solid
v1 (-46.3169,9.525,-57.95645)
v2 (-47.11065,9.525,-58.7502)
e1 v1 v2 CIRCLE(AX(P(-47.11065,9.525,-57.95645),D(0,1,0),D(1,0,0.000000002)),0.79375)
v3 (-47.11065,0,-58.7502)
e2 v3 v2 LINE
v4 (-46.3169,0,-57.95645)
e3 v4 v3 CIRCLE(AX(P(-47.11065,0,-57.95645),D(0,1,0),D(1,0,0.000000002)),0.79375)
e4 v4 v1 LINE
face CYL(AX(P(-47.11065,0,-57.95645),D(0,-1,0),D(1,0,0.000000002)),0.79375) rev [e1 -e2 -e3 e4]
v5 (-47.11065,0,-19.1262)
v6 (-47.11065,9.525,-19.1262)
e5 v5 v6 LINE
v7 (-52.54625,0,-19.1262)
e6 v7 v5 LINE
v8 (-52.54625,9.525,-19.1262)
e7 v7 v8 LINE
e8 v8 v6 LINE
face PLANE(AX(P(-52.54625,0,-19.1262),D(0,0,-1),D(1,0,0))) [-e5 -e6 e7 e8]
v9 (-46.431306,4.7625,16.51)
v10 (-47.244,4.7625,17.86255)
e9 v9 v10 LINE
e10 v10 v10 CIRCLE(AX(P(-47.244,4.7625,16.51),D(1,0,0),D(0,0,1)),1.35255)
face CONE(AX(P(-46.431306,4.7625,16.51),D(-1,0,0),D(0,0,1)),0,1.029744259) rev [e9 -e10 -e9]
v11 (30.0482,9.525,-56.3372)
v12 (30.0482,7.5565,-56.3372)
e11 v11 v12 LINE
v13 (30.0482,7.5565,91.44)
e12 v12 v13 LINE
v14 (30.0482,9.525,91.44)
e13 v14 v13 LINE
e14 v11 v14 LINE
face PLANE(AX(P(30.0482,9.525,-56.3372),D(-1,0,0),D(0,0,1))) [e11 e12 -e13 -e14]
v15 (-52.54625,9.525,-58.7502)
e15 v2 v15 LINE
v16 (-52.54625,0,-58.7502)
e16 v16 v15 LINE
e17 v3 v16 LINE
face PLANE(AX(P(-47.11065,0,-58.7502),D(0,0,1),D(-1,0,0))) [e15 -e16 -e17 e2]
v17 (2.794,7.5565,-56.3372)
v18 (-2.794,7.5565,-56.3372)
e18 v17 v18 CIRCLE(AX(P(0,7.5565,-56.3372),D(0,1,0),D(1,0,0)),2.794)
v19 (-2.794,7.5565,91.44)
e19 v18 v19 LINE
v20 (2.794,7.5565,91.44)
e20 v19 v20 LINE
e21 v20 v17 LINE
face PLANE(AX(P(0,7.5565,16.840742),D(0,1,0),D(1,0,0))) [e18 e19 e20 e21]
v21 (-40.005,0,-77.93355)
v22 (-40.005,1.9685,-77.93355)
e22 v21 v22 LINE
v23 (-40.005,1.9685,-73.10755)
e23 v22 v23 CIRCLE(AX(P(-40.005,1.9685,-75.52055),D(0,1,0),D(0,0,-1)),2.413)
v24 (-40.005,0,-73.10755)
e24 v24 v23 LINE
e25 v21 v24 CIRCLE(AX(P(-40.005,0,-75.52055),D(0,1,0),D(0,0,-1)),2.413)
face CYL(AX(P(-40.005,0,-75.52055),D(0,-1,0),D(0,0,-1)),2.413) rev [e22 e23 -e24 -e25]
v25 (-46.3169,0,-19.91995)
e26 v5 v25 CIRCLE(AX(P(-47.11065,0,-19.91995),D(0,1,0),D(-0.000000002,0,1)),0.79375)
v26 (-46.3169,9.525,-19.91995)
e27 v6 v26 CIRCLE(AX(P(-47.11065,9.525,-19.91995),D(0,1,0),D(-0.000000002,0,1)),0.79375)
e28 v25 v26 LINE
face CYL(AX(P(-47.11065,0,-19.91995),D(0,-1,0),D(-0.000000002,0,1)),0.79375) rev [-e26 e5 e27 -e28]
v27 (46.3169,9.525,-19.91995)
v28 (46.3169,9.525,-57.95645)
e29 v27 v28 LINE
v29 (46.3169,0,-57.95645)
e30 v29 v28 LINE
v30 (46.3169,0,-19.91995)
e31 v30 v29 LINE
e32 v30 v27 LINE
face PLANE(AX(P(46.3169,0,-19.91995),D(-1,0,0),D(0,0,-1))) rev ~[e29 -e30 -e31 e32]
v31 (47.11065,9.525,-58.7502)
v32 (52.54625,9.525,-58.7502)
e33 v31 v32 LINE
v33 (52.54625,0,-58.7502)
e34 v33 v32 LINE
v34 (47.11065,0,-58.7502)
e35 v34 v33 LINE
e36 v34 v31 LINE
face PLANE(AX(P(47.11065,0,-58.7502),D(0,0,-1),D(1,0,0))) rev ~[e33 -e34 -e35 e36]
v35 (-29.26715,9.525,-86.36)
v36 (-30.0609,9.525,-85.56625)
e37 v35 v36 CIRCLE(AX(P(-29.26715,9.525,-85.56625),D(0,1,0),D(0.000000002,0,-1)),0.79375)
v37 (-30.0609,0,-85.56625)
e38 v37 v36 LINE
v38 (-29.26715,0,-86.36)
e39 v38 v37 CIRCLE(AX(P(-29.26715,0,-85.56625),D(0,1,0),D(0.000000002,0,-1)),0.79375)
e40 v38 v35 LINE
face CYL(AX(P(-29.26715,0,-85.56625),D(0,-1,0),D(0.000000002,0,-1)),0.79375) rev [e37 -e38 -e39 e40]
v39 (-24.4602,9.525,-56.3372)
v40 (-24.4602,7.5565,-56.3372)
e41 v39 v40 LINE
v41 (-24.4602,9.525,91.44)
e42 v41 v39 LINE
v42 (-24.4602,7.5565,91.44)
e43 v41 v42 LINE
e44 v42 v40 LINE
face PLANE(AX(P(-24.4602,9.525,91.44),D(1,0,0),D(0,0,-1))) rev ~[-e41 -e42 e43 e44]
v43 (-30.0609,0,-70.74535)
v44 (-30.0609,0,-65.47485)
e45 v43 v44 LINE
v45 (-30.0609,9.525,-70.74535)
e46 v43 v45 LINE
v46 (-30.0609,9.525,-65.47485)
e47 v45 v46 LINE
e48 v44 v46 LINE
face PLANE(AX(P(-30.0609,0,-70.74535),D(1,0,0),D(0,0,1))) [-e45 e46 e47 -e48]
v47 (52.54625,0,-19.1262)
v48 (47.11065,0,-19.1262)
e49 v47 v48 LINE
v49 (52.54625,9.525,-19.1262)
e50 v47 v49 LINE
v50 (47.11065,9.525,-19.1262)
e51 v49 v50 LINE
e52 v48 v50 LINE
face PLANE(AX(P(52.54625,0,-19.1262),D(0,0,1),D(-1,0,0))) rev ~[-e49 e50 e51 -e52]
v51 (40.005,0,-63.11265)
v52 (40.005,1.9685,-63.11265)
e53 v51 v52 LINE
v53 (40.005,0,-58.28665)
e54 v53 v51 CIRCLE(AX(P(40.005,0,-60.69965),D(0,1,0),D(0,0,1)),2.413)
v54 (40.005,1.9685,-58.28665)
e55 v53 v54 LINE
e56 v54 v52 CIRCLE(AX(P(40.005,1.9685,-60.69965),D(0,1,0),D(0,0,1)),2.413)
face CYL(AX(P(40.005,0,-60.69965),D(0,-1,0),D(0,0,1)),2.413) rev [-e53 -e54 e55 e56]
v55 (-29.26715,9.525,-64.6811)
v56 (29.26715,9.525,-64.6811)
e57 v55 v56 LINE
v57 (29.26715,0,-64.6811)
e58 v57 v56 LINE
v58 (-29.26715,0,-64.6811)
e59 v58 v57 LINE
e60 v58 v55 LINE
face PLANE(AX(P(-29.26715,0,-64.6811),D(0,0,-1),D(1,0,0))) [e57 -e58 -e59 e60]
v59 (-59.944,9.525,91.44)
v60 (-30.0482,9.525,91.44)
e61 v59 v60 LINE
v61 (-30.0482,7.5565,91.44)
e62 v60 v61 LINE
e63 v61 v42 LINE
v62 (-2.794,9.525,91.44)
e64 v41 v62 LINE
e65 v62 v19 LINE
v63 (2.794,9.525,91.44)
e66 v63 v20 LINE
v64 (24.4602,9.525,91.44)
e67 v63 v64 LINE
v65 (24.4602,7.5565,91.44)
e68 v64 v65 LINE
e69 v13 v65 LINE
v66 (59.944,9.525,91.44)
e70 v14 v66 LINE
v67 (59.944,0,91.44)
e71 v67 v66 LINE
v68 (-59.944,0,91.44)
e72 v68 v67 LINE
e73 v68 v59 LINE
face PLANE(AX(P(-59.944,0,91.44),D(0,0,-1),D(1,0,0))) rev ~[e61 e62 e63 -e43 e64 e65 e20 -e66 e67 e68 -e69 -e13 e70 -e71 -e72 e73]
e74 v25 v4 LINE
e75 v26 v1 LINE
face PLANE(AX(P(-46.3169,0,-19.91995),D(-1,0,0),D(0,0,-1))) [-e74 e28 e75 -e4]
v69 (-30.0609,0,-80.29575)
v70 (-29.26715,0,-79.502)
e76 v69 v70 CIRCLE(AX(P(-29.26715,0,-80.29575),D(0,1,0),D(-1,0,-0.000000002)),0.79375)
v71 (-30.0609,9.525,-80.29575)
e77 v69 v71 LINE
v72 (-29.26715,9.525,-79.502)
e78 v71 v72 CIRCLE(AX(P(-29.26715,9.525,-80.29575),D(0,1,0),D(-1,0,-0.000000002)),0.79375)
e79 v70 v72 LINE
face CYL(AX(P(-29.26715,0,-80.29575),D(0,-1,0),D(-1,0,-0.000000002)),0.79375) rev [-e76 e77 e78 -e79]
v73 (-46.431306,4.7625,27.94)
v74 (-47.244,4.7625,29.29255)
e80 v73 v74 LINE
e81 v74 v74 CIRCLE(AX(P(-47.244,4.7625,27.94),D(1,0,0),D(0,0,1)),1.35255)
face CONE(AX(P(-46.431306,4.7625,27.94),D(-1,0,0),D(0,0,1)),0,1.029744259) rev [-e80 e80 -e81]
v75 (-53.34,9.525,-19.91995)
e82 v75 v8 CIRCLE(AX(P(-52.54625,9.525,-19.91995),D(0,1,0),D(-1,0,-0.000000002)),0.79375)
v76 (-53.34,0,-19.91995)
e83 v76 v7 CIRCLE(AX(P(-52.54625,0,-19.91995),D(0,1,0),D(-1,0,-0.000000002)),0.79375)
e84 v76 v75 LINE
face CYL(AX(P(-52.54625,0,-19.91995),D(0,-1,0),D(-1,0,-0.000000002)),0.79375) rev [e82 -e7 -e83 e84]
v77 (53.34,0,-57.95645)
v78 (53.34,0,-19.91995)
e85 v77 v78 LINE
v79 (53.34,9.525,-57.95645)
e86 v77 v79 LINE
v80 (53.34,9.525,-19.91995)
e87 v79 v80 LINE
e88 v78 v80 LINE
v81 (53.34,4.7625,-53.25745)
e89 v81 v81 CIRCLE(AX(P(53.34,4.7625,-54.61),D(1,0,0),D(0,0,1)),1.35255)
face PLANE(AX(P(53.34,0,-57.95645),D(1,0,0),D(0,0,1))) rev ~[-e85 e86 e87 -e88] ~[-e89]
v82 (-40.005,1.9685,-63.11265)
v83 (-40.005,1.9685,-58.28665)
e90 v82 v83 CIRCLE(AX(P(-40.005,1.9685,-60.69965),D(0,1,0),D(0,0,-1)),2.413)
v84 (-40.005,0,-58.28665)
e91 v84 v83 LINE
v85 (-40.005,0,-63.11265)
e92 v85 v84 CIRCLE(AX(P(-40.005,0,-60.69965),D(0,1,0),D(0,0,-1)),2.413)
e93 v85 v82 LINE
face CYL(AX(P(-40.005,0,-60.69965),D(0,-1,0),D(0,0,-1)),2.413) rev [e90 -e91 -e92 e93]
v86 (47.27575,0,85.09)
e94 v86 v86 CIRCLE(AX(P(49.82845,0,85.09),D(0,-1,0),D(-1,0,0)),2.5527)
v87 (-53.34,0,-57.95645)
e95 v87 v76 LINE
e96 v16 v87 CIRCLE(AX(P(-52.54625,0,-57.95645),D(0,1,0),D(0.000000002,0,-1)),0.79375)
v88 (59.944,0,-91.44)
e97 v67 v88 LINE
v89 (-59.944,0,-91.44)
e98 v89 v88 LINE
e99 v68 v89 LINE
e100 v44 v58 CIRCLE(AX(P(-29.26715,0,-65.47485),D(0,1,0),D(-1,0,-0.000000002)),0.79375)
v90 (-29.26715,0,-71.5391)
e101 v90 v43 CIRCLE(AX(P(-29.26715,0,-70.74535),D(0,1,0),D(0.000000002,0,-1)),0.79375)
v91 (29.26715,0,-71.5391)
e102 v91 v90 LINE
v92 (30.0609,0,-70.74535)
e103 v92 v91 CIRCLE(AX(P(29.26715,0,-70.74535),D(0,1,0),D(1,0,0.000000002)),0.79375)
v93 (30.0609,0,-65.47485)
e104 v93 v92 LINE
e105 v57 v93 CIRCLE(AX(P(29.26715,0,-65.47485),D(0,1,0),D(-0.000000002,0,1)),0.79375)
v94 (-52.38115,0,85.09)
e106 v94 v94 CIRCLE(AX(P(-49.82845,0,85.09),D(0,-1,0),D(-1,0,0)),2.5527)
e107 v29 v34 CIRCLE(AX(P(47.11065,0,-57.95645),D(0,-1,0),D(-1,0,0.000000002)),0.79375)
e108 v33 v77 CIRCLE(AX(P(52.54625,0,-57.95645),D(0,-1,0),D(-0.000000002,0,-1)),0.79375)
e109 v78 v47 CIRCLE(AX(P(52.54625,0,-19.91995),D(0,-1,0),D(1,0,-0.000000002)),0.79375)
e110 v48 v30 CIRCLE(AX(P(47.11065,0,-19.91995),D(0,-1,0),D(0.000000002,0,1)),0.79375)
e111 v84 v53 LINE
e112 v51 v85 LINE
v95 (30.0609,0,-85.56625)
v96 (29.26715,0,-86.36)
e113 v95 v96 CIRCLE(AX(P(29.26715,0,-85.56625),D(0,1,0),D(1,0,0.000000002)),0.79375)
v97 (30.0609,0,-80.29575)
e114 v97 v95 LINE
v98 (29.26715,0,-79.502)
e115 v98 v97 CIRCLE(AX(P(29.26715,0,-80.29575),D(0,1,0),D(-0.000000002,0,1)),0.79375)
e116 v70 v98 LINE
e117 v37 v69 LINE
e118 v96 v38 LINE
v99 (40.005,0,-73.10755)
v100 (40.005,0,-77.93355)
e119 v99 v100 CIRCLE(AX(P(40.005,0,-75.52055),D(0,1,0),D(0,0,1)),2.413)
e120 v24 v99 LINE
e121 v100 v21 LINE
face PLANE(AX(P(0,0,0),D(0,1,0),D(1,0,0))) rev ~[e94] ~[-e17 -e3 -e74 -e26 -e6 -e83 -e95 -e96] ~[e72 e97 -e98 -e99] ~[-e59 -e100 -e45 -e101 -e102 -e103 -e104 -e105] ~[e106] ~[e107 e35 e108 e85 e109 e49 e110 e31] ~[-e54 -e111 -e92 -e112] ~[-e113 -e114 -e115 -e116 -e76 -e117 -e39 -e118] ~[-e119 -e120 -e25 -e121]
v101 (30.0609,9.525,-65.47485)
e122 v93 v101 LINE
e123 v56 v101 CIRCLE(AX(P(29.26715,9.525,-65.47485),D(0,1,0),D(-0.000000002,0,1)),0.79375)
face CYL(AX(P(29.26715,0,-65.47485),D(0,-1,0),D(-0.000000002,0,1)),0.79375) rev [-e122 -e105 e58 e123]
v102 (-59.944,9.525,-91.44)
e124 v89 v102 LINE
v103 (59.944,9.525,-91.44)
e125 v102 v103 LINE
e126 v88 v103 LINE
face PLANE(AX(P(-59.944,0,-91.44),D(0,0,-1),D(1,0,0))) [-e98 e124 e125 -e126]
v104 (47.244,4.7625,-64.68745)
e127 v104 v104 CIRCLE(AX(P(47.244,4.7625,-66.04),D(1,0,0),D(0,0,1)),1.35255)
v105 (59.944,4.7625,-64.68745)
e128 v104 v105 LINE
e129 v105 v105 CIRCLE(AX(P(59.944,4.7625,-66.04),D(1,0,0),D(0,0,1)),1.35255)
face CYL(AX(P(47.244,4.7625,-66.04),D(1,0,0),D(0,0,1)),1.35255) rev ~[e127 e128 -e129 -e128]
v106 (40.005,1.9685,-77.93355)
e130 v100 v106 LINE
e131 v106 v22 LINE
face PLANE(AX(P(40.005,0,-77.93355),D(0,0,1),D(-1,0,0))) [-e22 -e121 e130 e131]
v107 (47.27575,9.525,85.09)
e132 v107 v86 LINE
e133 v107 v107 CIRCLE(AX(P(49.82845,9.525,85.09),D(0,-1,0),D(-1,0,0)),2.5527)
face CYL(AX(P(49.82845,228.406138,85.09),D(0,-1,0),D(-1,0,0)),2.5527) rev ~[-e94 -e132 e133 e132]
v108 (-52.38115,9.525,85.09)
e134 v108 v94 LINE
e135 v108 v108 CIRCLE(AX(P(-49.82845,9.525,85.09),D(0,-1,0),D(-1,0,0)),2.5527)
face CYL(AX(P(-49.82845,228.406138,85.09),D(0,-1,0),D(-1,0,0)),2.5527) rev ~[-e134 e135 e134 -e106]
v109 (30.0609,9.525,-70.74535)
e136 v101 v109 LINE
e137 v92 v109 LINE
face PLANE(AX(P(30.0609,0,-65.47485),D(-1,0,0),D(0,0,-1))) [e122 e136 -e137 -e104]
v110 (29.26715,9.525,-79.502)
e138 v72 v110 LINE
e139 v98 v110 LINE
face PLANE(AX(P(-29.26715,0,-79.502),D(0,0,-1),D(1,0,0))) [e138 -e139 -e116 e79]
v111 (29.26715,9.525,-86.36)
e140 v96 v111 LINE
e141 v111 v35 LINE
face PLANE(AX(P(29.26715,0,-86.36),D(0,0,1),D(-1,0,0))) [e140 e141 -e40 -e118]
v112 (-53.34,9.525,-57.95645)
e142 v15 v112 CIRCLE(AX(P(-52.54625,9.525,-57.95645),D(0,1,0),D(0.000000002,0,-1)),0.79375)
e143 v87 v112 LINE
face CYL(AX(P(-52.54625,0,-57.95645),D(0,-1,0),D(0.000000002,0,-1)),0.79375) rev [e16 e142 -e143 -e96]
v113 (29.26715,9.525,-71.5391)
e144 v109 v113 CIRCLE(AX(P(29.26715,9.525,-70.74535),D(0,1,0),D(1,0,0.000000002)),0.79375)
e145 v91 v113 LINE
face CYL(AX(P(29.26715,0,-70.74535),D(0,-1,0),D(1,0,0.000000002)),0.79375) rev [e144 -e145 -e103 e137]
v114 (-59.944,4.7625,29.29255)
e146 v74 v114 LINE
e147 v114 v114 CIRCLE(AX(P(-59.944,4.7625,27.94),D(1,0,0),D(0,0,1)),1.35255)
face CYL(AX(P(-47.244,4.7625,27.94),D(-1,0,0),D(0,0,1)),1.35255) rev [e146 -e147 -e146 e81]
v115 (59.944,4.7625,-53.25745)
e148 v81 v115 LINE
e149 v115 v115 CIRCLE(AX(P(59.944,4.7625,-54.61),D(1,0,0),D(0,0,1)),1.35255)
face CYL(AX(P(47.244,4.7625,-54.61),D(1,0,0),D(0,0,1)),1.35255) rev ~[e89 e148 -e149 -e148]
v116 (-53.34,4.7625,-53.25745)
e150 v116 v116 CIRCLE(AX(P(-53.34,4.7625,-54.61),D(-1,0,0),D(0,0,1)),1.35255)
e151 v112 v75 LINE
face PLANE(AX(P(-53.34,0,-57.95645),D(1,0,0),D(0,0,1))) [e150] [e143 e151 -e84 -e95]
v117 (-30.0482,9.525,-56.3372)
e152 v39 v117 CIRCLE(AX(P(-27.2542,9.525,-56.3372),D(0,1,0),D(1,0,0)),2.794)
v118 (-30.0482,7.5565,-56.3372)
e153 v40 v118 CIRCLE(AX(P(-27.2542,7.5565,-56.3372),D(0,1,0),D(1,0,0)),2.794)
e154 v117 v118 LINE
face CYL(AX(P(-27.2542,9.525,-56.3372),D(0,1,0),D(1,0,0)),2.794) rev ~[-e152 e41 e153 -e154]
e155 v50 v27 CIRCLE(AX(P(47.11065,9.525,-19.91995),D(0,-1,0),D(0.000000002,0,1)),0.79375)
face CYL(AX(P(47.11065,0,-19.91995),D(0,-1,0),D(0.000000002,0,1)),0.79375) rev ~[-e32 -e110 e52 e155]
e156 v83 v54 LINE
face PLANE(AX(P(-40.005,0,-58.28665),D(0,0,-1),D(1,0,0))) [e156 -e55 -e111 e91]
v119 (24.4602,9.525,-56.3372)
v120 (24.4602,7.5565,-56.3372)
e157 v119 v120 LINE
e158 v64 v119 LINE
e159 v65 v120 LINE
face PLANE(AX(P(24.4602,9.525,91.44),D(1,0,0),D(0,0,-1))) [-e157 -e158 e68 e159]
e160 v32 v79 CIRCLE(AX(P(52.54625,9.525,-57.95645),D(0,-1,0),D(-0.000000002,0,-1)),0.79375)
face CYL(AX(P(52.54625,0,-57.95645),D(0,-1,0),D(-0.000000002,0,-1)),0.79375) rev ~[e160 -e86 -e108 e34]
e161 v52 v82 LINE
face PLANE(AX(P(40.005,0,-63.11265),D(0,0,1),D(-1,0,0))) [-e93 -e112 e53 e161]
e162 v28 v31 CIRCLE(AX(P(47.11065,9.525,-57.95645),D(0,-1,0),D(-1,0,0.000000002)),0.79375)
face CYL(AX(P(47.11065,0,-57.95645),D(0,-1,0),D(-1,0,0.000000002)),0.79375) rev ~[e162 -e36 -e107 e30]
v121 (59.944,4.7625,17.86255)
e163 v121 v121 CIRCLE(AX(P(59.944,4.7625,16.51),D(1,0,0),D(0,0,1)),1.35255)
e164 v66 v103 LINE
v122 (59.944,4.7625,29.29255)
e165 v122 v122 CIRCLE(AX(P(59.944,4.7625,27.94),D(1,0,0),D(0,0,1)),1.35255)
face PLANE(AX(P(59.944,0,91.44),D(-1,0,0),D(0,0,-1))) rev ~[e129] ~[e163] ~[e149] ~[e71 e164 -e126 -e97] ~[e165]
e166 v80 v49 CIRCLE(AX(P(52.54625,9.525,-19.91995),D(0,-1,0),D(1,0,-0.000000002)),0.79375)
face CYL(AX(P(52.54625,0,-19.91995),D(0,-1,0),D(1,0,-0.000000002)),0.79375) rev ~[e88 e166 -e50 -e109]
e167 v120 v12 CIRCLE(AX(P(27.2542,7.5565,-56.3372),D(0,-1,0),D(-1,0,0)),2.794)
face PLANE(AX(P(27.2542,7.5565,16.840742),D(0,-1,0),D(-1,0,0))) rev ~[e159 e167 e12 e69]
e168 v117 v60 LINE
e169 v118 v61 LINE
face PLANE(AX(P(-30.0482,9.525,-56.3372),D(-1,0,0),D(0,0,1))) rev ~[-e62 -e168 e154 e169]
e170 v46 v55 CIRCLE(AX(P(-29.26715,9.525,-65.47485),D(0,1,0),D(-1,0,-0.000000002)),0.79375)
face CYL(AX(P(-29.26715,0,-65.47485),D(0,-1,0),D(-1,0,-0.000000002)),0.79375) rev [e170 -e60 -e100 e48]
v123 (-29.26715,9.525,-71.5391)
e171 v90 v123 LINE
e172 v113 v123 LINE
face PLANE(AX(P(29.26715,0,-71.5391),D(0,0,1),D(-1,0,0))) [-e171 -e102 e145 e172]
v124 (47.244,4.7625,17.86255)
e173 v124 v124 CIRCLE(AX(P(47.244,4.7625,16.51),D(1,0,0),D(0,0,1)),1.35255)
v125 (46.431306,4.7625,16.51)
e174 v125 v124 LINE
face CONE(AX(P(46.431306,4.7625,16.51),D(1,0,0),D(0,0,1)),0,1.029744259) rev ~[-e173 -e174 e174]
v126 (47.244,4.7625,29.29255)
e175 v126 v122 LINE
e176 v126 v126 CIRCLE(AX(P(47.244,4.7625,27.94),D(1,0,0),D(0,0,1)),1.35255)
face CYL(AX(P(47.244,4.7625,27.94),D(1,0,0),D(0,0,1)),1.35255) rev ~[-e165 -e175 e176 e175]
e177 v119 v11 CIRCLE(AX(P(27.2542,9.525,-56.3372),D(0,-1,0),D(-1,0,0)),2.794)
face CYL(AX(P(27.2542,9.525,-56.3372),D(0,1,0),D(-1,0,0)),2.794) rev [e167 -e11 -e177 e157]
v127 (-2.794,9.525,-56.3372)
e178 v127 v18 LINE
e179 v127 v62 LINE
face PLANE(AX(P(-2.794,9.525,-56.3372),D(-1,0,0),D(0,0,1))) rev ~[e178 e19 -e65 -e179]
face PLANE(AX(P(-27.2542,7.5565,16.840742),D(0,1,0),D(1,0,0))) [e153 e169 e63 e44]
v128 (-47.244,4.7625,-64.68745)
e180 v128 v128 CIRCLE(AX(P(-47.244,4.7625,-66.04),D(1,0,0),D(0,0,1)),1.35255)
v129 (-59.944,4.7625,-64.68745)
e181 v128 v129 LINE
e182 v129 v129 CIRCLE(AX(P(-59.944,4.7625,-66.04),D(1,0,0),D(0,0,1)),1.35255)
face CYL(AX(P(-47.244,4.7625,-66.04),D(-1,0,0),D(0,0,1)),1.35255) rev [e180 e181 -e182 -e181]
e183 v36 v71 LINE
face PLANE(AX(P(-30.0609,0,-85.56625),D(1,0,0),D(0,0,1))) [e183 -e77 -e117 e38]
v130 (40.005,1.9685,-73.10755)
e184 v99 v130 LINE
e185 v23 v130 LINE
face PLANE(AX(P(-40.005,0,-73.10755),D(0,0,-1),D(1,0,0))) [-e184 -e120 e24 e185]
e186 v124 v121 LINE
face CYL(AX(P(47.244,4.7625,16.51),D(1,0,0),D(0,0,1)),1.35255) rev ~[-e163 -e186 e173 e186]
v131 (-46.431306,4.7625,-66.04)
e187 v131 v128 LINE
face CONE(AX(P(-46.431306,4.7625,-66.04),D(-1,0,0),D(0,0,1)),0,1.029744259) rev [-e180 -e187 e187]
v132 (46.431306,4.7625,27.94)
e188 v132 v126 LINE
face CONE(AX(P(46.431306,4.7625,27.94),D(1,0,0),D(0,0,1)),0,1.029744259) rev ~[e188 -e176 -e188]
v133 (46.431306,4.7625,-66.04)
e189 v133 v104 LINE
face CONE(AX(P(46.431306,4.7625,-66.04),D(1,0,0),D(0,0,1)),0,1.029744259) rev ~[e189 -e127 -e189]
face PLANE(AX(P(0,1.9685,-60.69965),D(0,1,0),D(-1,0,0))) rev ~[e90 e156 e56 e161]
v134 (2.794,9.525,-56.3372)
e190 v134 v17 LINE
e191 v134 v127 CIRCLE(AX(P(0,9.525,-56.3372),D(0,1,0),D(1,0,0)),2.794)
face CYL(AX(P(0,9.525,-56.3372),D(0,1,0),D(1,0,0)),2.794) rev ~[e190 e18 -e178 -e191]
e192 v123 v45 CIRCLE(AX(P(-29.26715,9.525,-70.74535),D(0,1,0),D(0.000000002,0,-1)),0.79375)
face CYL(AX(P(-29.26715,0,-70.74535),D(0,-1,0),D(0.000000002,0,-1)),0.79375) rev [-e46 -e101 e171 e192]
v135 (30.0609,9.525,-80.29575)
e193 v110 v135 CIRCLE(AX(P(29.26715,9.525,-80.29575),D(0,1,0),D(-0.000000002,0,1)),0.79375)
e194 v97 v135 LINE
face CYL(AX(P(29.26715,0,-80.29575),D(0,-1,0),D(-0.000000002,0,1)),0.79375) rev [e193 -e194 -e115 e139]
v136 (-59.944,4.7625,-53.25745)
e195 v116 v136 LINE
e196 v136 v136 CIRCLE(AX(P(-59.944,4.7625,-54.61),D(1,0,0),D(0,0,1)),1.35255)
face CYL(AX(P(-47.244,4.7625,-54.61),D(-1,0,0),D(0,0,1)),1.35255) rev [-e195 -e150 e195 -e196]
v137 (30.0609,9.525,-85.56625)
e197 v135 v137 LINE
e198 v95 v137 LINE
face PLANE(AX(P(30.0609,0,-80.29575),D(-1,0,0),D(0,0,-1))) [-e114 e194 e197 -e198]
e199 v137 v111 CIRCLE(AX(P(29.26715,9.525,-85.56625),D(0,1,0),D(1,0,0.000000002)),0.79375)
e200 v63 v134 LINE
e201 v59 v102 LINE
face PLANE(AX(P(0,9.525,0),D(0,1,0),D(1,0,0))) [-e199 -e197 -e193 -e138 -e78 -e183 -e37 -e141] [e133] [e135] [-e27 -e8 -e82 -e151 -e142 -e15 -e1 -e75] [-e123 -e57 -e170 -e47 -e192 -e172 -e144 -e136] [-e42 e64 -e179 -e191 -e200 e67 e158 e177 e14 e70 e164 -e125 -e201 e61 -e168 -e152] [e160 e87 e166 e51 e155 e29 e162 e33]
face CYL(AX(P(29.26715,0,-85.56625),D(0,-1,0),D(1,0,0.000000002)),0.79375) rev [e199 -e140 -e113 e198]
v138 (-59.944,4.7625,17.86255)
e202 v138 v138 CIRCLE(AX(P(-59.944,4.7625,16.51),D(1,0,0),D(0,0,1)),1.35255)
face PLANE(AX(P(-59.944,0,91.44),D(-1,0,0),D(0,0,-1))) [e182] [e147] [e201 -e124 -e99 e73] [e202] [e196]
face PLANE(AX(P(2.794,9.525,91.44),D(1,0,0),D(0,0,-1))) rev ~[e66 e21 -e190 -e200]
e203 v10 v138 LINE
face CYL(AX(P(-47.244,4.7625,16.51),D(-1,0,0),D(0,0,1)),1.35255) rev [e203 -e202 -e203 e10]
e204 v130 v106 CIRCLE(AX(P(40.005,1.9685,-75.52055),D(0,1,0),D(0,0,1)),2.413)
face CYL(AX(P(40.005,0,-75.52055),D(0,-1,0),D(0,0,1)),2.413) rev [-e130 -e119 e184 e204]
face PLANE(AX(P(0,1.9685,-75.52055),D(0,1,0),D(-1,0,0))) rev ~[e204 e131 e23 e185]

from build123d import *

# Parameters (mm, degrees)
SKETCH1_W                      = 119.888
SKETCH1_H                      = 182.88
BOSS_EXTRUDE1_DEPTH            = 9.525
F_1_4_20_TAPPED_HOLE1_D        = 5.1054
CUT_EXTRUDE1_DEPTH             = 1.9685
CUT_EXTRUDE2_DEPTH             = 1.9685
F_6_32_TAPPED_HOLE1_AT_2_COUNT = 2
F_6_32_TAPPED_HOLE1_AT_2_PITCH = 93.98
F_6_32_TAPPED_HOLE1_AT_3_COUNT = 2
F_6_32_TAPPED_HOLE1_AT_3_PITCH = 82.55
F_6_32_TAPPED_HOLE1_AT_4_COUNT = 2
F_6_32_TAPPED_HOLE1_AT_4_PITCH = 11.43


with BuildPart() as part:
    # Sketch1 → Boss-Extrude1 (new body)
    with BuildSketch(Plane(origin=(0, 0, 0), x_dir=(1, 0, 0), z_dir=(0, 1, 0))):
        Rectangle(SKETCH1_W, SKETCH1_H)
        with BuildLine():
            Line((-29.26715, 79.502), (29.26715, 79.502))
            ThreePointArc((29.26715, 79.502), (29.828416008, 79.734483992), (30.0609, 80.29575))
            Line((30.0609, 80.29575), (30.0609, 85.56625))
            ThreePointArc((30.0609, 85.56625), (29.828416008, 86.127516008), (29.26715, 86.36))
            Line((29.26715, 86.36), (-29.26715, 86.36))
            ThreePointArc((-29.26715, 86.36), (-29.828416008, 86.127516008), (-30.0609, 85.56625))
            Line((-30.0609, 85.56625), (-30.0609, 80.29575))
            ThreePointArc((-30.0609, 80.29575), (-29.828416008, 79.734483992), (-29.26715, 79.502))
        make_face(mode=Mode.SUBTRACT)
        with BuildLine():
            Line((-29.26715, 64.6811), (29.26715, 64.6811))
            ThreePointArc((29.26715, 64.6811), (29.828416008, 64.913583992), (30.0609, 65.47485))
            Line((30.0609, 65.47485), (30.0609, 70.74535))
            ThreePointArc((30.0609, 70.74535), (29.828416008, 71.306616008), (29.26715, 71.5391))
            Line((29.26715, 71.5391), (-29.26715, 71.5391))
            ThreePointArc((-29.26715, 71.5391), (-29.828416008, 71.306616008), (-30.0609, 70.74535))
            Line((-30.0609, 70.74535), (-30.0609, 65.47485))
            ThreePointArc((-30.0609, 65.47485), (-29.828416008, 64.913583992), (-29.26715, 64.6811))
        make_face(mode=Mode.SUBTRACT)
        with BuildLine():
            Line((-52.54625, 19.1262), (-47.11065, 19.1262))
            ThreePointArc((-47.11065, 19.1262), (-46.549383992, 19.358683992), (-46.3169, 19.91995))
            Line((-46.3169, 19.91995), (-46.3169, 57.95645))
            ThreePointArc((-46.3169, 57.95645), (-46.549383992, 58.517716008), (-47.11065, 58.7502))
            Line((-47.11065, 58.7502), (-52.54625, 58.7502))
            ThreePointArc((-52.54625, 58.7502), (-53.107516008, 58.517716008), (-53.34, 57.95645))
            Line((-53.34, 57.95645), (-53.34, 19.91995))
            ThreePointArc((-53.34, 19.91995), (-53.107516008, 19.358683992), (-52.54625, 19.1262))
        make_face(mode=Mode.SUBTRACT)
        with BuildLine():
            Line((46.3169, 19.91995), (46.3169, 57.95645))
            ThreePointArc((46.3169, 57.95645), (46.549383992, 58.517716008), (47.11065, 58.7502))
            Line((47.11065, 58.7502), (52.54625, 58.7502))
            ThreePointArc((52.54625, 58.7502), (53.107516008, 58.517716008), (53.34, 57.95645))
            Line((53.34, 57.95645), (53.34, 19.91995))
            ThreePointArc((53.34, 19.91995), (53.107516008, 19.358683992), (52.54625, 19.1262))
            Line((52.54625, 19.1262), (47.11065, 19.1262))
            ThreePointArc((47.11065, 19.1262), (46.549383992, 19.358683992), (46.3169, 19.91995))
        make_face(mode=Mode.SUBTRACT)
    extrude(amount=BOSS_EXTRUDE1_DEPTH)

    # 1/4-20 Tapped Hole1 (through all)
    with Locations(Plane(origin=(0, 9.525, 0), x_dir=(1, 0, 0), z_dir=(0, 1, 0))):
        with Locations((-49.82845, -85.09), (49.82845, -85.09)):
            Hole(F_1_4_20_TAPPED_HOLE1_D / 2)

    # Sketch4 → Cut-Extrude1 (cut)
    with BuildSketch(Plane(origin=(0, 9.525, 0), x_dir=(1, 0, 0), z_dir=(0, 1, 0))):
        with BuildLine():
            Line((-30.0482, -91.44), (-24.4602, -91.44))
            Line((-24.4602, -91.44), (-24.4602, 56.3372))
            ThreePointArc((-24.4602, 56.3372), (-27.2542, 59.1312), (-30.0482, 56.3372))
            Line((-30.0482, 56.3372), (-30.0482, -91.44))
        make_face()
        with BuildLine():
            Line((-2.794, 56.3372), (-2.794, -91.44))
            Line((-2.794, -91.44), (2.794, -91.44))
            Line((2.794, -91.44), (2.794, 56.3372))
            ThreePointArc((2.794, 56.3372), (0, 59.1312), (-2.794, 56.3372))
        make_face()
        with BuildLine():
            Line((30.0482, 56.3372), (30.0482, -91.44))
            Line((30.0482, -91.44), (24.4602, -91.44))
            Line((24.4602, -91.44), (24.4602, 56.3372))
            ThreePointArc((24.4602, 56.3372), (27.2542, 59.1312), (30.0482, 56.3372))
        make_face()
    extrude(amount=-CUT_EXTRUDE1_DEPTH, mode=Mode.SUBTRACT)

    # Sketch5 → Cut-Extrude2 (cut)
    with BuildSketch(Plane.XZ):
        with BuildLine():
            Line((-40.005, -73.10755), (40.005, -73.10755))
            ThreePointArc((40.005, -73.10755), (42.418, -75.52055), (40.005, -77.93355))
            Line((40.005, -77.93355), (-40.005, -77.93355))
            ThreePointArc((-40.005, -77.93355), (-42.418, -75.52055), (-40.005, -73.10755))
        make_face()
        with BuildLine():
            Line((-40.005, -58.28665), (40.005, -58.28665))
            ThreePointArc((40.005, -58.28665), (42.418, -60.69965), (40.005, -63.11265))
            Line((40.005, -63.11265), (-40.005, -63.11265))
            ThreePointArc((-40.005, -63.11265), (-42.418, -60.69965), (-40.005, -58.28665))
        make_face()
    extrude(amount=-CUT_EXTRUDE2_DEPTH, mode=Mode.SUBTRACT)

    # Sketch7 → #6-32 Tapped Hole1 (revolve, cut)
    with BuildSketch(Plane(origin=(-59.944, 4.7625, 27.94), x_dir=(0, 0, 1), z_dir=(0, 1, 0))):
        Polygon((0, 0), (0, 13.51269403), (1.35255, 12.7), (1.35255, 0), align=None)
    f_6_32_tapped_hole1 = revolve(axis=Axis((-66.294, 4.7625, 27.94), (1, 0, 0)), mode=Mode.SUBTRACT)

    # #6-32 Tapped Hole1 at 2: #6-32 Tapped Hole1 ×2
    with Locations(*[(0, 0, -i * F_6_32_TAPPED_HOLE1_AT_2_PITCH) for i in range(1, F_6_32_TAPPED_HOLE1_AT_2_COUNT)]):
        add(f_6_32_tapped_hole1, mode=Mode.SUBTRACT)

    # #6-32 Tapped Hole1 at 3: #6-32 Tapped Hole1 ×2
    with Locations(*[(0, 0, -i * F_6_32_TAPPED_HOLE1_AT_3_PITCH) for i in range(1, F_6_32_TAPPED_HOLE1_AT_3_COUNT)]):
        add(f_6_32_tapped_hole1, mode=Mode.SUBTRACT)

    # #6-32 Tapped Hole1 at 4: #6-32 Tapped Hole1 ×2
    with Locations(*[(0, 0, -i * F_6_32_TAPPED_HOLE1_AT_4_PITCH) for i in range(1, F_6_32_TAPPED_HOLE1_AT_4_COUNT)]):
        add(f_6_32_tapped_hole1, mode=Mode.SUBTRACT)

    # Mirror1: #6-32 Tapped Hole1 across plane
    add(f_6_32_tapped_hole1.mirror(Plane(origin=(0, 0, 0), x_dir=(0, 0, 1), z_dir=(1, 0, 0))), mode=Mode.SUBTRACT)

    # Mirror1 copy 1 sketch → Mirror1 copy 1 (revolve, cut)
    with BuildSketch(Plane(origin=(59.944, 4.7625, -66.04), x_dir=(0, 0, 1), z_dir=(0, 1, 0))):
        Polygon((0, 0), (0, -13.51269403), (1.35255, -12.7), (1.35255, 0), align=None)
    revolve(axis=Axis((66.294, 4.7625, -66.04), (1, 0, 0)), mode=Mode.SUBTRACT)

    # Mirror1 copy 2 sketch → Mirror1 copy 2 (revolve, cut)
    with BuildSketch(Plane(origin=(59.944, 4.7625, -54.61), x_dir=(0, 0, 1), z_dir=(0, 1, 0))):
        Polygon((0, 0), (0, -13.51269403), (1.35255, -12.7), (1.35255, 0), align=None)
    revolve(axis=Axis((66.294, 4.7625, -54.61), (1, 0, 0)), mode=Mode.SUBTRACT)

    # Mirror1 copy 3 sketch → Mirror1 copy 3 (revolve, cut)
    with BuildSketch(Plane(origin=(59.944, 4.7625, 16.51), x_dir=(0, 0, 1), z_dir=(0, 1, 0))):
        Polygon((0, 0), (0, -13.51269403), (1.35255, -12.7), (1.35255, 0), align=None)
    revolve(axis=Axis((66.294, 4.7625, 16.51), (1, 0, 0)), mode=Mode.SUBTRACT)


solid = part.part
